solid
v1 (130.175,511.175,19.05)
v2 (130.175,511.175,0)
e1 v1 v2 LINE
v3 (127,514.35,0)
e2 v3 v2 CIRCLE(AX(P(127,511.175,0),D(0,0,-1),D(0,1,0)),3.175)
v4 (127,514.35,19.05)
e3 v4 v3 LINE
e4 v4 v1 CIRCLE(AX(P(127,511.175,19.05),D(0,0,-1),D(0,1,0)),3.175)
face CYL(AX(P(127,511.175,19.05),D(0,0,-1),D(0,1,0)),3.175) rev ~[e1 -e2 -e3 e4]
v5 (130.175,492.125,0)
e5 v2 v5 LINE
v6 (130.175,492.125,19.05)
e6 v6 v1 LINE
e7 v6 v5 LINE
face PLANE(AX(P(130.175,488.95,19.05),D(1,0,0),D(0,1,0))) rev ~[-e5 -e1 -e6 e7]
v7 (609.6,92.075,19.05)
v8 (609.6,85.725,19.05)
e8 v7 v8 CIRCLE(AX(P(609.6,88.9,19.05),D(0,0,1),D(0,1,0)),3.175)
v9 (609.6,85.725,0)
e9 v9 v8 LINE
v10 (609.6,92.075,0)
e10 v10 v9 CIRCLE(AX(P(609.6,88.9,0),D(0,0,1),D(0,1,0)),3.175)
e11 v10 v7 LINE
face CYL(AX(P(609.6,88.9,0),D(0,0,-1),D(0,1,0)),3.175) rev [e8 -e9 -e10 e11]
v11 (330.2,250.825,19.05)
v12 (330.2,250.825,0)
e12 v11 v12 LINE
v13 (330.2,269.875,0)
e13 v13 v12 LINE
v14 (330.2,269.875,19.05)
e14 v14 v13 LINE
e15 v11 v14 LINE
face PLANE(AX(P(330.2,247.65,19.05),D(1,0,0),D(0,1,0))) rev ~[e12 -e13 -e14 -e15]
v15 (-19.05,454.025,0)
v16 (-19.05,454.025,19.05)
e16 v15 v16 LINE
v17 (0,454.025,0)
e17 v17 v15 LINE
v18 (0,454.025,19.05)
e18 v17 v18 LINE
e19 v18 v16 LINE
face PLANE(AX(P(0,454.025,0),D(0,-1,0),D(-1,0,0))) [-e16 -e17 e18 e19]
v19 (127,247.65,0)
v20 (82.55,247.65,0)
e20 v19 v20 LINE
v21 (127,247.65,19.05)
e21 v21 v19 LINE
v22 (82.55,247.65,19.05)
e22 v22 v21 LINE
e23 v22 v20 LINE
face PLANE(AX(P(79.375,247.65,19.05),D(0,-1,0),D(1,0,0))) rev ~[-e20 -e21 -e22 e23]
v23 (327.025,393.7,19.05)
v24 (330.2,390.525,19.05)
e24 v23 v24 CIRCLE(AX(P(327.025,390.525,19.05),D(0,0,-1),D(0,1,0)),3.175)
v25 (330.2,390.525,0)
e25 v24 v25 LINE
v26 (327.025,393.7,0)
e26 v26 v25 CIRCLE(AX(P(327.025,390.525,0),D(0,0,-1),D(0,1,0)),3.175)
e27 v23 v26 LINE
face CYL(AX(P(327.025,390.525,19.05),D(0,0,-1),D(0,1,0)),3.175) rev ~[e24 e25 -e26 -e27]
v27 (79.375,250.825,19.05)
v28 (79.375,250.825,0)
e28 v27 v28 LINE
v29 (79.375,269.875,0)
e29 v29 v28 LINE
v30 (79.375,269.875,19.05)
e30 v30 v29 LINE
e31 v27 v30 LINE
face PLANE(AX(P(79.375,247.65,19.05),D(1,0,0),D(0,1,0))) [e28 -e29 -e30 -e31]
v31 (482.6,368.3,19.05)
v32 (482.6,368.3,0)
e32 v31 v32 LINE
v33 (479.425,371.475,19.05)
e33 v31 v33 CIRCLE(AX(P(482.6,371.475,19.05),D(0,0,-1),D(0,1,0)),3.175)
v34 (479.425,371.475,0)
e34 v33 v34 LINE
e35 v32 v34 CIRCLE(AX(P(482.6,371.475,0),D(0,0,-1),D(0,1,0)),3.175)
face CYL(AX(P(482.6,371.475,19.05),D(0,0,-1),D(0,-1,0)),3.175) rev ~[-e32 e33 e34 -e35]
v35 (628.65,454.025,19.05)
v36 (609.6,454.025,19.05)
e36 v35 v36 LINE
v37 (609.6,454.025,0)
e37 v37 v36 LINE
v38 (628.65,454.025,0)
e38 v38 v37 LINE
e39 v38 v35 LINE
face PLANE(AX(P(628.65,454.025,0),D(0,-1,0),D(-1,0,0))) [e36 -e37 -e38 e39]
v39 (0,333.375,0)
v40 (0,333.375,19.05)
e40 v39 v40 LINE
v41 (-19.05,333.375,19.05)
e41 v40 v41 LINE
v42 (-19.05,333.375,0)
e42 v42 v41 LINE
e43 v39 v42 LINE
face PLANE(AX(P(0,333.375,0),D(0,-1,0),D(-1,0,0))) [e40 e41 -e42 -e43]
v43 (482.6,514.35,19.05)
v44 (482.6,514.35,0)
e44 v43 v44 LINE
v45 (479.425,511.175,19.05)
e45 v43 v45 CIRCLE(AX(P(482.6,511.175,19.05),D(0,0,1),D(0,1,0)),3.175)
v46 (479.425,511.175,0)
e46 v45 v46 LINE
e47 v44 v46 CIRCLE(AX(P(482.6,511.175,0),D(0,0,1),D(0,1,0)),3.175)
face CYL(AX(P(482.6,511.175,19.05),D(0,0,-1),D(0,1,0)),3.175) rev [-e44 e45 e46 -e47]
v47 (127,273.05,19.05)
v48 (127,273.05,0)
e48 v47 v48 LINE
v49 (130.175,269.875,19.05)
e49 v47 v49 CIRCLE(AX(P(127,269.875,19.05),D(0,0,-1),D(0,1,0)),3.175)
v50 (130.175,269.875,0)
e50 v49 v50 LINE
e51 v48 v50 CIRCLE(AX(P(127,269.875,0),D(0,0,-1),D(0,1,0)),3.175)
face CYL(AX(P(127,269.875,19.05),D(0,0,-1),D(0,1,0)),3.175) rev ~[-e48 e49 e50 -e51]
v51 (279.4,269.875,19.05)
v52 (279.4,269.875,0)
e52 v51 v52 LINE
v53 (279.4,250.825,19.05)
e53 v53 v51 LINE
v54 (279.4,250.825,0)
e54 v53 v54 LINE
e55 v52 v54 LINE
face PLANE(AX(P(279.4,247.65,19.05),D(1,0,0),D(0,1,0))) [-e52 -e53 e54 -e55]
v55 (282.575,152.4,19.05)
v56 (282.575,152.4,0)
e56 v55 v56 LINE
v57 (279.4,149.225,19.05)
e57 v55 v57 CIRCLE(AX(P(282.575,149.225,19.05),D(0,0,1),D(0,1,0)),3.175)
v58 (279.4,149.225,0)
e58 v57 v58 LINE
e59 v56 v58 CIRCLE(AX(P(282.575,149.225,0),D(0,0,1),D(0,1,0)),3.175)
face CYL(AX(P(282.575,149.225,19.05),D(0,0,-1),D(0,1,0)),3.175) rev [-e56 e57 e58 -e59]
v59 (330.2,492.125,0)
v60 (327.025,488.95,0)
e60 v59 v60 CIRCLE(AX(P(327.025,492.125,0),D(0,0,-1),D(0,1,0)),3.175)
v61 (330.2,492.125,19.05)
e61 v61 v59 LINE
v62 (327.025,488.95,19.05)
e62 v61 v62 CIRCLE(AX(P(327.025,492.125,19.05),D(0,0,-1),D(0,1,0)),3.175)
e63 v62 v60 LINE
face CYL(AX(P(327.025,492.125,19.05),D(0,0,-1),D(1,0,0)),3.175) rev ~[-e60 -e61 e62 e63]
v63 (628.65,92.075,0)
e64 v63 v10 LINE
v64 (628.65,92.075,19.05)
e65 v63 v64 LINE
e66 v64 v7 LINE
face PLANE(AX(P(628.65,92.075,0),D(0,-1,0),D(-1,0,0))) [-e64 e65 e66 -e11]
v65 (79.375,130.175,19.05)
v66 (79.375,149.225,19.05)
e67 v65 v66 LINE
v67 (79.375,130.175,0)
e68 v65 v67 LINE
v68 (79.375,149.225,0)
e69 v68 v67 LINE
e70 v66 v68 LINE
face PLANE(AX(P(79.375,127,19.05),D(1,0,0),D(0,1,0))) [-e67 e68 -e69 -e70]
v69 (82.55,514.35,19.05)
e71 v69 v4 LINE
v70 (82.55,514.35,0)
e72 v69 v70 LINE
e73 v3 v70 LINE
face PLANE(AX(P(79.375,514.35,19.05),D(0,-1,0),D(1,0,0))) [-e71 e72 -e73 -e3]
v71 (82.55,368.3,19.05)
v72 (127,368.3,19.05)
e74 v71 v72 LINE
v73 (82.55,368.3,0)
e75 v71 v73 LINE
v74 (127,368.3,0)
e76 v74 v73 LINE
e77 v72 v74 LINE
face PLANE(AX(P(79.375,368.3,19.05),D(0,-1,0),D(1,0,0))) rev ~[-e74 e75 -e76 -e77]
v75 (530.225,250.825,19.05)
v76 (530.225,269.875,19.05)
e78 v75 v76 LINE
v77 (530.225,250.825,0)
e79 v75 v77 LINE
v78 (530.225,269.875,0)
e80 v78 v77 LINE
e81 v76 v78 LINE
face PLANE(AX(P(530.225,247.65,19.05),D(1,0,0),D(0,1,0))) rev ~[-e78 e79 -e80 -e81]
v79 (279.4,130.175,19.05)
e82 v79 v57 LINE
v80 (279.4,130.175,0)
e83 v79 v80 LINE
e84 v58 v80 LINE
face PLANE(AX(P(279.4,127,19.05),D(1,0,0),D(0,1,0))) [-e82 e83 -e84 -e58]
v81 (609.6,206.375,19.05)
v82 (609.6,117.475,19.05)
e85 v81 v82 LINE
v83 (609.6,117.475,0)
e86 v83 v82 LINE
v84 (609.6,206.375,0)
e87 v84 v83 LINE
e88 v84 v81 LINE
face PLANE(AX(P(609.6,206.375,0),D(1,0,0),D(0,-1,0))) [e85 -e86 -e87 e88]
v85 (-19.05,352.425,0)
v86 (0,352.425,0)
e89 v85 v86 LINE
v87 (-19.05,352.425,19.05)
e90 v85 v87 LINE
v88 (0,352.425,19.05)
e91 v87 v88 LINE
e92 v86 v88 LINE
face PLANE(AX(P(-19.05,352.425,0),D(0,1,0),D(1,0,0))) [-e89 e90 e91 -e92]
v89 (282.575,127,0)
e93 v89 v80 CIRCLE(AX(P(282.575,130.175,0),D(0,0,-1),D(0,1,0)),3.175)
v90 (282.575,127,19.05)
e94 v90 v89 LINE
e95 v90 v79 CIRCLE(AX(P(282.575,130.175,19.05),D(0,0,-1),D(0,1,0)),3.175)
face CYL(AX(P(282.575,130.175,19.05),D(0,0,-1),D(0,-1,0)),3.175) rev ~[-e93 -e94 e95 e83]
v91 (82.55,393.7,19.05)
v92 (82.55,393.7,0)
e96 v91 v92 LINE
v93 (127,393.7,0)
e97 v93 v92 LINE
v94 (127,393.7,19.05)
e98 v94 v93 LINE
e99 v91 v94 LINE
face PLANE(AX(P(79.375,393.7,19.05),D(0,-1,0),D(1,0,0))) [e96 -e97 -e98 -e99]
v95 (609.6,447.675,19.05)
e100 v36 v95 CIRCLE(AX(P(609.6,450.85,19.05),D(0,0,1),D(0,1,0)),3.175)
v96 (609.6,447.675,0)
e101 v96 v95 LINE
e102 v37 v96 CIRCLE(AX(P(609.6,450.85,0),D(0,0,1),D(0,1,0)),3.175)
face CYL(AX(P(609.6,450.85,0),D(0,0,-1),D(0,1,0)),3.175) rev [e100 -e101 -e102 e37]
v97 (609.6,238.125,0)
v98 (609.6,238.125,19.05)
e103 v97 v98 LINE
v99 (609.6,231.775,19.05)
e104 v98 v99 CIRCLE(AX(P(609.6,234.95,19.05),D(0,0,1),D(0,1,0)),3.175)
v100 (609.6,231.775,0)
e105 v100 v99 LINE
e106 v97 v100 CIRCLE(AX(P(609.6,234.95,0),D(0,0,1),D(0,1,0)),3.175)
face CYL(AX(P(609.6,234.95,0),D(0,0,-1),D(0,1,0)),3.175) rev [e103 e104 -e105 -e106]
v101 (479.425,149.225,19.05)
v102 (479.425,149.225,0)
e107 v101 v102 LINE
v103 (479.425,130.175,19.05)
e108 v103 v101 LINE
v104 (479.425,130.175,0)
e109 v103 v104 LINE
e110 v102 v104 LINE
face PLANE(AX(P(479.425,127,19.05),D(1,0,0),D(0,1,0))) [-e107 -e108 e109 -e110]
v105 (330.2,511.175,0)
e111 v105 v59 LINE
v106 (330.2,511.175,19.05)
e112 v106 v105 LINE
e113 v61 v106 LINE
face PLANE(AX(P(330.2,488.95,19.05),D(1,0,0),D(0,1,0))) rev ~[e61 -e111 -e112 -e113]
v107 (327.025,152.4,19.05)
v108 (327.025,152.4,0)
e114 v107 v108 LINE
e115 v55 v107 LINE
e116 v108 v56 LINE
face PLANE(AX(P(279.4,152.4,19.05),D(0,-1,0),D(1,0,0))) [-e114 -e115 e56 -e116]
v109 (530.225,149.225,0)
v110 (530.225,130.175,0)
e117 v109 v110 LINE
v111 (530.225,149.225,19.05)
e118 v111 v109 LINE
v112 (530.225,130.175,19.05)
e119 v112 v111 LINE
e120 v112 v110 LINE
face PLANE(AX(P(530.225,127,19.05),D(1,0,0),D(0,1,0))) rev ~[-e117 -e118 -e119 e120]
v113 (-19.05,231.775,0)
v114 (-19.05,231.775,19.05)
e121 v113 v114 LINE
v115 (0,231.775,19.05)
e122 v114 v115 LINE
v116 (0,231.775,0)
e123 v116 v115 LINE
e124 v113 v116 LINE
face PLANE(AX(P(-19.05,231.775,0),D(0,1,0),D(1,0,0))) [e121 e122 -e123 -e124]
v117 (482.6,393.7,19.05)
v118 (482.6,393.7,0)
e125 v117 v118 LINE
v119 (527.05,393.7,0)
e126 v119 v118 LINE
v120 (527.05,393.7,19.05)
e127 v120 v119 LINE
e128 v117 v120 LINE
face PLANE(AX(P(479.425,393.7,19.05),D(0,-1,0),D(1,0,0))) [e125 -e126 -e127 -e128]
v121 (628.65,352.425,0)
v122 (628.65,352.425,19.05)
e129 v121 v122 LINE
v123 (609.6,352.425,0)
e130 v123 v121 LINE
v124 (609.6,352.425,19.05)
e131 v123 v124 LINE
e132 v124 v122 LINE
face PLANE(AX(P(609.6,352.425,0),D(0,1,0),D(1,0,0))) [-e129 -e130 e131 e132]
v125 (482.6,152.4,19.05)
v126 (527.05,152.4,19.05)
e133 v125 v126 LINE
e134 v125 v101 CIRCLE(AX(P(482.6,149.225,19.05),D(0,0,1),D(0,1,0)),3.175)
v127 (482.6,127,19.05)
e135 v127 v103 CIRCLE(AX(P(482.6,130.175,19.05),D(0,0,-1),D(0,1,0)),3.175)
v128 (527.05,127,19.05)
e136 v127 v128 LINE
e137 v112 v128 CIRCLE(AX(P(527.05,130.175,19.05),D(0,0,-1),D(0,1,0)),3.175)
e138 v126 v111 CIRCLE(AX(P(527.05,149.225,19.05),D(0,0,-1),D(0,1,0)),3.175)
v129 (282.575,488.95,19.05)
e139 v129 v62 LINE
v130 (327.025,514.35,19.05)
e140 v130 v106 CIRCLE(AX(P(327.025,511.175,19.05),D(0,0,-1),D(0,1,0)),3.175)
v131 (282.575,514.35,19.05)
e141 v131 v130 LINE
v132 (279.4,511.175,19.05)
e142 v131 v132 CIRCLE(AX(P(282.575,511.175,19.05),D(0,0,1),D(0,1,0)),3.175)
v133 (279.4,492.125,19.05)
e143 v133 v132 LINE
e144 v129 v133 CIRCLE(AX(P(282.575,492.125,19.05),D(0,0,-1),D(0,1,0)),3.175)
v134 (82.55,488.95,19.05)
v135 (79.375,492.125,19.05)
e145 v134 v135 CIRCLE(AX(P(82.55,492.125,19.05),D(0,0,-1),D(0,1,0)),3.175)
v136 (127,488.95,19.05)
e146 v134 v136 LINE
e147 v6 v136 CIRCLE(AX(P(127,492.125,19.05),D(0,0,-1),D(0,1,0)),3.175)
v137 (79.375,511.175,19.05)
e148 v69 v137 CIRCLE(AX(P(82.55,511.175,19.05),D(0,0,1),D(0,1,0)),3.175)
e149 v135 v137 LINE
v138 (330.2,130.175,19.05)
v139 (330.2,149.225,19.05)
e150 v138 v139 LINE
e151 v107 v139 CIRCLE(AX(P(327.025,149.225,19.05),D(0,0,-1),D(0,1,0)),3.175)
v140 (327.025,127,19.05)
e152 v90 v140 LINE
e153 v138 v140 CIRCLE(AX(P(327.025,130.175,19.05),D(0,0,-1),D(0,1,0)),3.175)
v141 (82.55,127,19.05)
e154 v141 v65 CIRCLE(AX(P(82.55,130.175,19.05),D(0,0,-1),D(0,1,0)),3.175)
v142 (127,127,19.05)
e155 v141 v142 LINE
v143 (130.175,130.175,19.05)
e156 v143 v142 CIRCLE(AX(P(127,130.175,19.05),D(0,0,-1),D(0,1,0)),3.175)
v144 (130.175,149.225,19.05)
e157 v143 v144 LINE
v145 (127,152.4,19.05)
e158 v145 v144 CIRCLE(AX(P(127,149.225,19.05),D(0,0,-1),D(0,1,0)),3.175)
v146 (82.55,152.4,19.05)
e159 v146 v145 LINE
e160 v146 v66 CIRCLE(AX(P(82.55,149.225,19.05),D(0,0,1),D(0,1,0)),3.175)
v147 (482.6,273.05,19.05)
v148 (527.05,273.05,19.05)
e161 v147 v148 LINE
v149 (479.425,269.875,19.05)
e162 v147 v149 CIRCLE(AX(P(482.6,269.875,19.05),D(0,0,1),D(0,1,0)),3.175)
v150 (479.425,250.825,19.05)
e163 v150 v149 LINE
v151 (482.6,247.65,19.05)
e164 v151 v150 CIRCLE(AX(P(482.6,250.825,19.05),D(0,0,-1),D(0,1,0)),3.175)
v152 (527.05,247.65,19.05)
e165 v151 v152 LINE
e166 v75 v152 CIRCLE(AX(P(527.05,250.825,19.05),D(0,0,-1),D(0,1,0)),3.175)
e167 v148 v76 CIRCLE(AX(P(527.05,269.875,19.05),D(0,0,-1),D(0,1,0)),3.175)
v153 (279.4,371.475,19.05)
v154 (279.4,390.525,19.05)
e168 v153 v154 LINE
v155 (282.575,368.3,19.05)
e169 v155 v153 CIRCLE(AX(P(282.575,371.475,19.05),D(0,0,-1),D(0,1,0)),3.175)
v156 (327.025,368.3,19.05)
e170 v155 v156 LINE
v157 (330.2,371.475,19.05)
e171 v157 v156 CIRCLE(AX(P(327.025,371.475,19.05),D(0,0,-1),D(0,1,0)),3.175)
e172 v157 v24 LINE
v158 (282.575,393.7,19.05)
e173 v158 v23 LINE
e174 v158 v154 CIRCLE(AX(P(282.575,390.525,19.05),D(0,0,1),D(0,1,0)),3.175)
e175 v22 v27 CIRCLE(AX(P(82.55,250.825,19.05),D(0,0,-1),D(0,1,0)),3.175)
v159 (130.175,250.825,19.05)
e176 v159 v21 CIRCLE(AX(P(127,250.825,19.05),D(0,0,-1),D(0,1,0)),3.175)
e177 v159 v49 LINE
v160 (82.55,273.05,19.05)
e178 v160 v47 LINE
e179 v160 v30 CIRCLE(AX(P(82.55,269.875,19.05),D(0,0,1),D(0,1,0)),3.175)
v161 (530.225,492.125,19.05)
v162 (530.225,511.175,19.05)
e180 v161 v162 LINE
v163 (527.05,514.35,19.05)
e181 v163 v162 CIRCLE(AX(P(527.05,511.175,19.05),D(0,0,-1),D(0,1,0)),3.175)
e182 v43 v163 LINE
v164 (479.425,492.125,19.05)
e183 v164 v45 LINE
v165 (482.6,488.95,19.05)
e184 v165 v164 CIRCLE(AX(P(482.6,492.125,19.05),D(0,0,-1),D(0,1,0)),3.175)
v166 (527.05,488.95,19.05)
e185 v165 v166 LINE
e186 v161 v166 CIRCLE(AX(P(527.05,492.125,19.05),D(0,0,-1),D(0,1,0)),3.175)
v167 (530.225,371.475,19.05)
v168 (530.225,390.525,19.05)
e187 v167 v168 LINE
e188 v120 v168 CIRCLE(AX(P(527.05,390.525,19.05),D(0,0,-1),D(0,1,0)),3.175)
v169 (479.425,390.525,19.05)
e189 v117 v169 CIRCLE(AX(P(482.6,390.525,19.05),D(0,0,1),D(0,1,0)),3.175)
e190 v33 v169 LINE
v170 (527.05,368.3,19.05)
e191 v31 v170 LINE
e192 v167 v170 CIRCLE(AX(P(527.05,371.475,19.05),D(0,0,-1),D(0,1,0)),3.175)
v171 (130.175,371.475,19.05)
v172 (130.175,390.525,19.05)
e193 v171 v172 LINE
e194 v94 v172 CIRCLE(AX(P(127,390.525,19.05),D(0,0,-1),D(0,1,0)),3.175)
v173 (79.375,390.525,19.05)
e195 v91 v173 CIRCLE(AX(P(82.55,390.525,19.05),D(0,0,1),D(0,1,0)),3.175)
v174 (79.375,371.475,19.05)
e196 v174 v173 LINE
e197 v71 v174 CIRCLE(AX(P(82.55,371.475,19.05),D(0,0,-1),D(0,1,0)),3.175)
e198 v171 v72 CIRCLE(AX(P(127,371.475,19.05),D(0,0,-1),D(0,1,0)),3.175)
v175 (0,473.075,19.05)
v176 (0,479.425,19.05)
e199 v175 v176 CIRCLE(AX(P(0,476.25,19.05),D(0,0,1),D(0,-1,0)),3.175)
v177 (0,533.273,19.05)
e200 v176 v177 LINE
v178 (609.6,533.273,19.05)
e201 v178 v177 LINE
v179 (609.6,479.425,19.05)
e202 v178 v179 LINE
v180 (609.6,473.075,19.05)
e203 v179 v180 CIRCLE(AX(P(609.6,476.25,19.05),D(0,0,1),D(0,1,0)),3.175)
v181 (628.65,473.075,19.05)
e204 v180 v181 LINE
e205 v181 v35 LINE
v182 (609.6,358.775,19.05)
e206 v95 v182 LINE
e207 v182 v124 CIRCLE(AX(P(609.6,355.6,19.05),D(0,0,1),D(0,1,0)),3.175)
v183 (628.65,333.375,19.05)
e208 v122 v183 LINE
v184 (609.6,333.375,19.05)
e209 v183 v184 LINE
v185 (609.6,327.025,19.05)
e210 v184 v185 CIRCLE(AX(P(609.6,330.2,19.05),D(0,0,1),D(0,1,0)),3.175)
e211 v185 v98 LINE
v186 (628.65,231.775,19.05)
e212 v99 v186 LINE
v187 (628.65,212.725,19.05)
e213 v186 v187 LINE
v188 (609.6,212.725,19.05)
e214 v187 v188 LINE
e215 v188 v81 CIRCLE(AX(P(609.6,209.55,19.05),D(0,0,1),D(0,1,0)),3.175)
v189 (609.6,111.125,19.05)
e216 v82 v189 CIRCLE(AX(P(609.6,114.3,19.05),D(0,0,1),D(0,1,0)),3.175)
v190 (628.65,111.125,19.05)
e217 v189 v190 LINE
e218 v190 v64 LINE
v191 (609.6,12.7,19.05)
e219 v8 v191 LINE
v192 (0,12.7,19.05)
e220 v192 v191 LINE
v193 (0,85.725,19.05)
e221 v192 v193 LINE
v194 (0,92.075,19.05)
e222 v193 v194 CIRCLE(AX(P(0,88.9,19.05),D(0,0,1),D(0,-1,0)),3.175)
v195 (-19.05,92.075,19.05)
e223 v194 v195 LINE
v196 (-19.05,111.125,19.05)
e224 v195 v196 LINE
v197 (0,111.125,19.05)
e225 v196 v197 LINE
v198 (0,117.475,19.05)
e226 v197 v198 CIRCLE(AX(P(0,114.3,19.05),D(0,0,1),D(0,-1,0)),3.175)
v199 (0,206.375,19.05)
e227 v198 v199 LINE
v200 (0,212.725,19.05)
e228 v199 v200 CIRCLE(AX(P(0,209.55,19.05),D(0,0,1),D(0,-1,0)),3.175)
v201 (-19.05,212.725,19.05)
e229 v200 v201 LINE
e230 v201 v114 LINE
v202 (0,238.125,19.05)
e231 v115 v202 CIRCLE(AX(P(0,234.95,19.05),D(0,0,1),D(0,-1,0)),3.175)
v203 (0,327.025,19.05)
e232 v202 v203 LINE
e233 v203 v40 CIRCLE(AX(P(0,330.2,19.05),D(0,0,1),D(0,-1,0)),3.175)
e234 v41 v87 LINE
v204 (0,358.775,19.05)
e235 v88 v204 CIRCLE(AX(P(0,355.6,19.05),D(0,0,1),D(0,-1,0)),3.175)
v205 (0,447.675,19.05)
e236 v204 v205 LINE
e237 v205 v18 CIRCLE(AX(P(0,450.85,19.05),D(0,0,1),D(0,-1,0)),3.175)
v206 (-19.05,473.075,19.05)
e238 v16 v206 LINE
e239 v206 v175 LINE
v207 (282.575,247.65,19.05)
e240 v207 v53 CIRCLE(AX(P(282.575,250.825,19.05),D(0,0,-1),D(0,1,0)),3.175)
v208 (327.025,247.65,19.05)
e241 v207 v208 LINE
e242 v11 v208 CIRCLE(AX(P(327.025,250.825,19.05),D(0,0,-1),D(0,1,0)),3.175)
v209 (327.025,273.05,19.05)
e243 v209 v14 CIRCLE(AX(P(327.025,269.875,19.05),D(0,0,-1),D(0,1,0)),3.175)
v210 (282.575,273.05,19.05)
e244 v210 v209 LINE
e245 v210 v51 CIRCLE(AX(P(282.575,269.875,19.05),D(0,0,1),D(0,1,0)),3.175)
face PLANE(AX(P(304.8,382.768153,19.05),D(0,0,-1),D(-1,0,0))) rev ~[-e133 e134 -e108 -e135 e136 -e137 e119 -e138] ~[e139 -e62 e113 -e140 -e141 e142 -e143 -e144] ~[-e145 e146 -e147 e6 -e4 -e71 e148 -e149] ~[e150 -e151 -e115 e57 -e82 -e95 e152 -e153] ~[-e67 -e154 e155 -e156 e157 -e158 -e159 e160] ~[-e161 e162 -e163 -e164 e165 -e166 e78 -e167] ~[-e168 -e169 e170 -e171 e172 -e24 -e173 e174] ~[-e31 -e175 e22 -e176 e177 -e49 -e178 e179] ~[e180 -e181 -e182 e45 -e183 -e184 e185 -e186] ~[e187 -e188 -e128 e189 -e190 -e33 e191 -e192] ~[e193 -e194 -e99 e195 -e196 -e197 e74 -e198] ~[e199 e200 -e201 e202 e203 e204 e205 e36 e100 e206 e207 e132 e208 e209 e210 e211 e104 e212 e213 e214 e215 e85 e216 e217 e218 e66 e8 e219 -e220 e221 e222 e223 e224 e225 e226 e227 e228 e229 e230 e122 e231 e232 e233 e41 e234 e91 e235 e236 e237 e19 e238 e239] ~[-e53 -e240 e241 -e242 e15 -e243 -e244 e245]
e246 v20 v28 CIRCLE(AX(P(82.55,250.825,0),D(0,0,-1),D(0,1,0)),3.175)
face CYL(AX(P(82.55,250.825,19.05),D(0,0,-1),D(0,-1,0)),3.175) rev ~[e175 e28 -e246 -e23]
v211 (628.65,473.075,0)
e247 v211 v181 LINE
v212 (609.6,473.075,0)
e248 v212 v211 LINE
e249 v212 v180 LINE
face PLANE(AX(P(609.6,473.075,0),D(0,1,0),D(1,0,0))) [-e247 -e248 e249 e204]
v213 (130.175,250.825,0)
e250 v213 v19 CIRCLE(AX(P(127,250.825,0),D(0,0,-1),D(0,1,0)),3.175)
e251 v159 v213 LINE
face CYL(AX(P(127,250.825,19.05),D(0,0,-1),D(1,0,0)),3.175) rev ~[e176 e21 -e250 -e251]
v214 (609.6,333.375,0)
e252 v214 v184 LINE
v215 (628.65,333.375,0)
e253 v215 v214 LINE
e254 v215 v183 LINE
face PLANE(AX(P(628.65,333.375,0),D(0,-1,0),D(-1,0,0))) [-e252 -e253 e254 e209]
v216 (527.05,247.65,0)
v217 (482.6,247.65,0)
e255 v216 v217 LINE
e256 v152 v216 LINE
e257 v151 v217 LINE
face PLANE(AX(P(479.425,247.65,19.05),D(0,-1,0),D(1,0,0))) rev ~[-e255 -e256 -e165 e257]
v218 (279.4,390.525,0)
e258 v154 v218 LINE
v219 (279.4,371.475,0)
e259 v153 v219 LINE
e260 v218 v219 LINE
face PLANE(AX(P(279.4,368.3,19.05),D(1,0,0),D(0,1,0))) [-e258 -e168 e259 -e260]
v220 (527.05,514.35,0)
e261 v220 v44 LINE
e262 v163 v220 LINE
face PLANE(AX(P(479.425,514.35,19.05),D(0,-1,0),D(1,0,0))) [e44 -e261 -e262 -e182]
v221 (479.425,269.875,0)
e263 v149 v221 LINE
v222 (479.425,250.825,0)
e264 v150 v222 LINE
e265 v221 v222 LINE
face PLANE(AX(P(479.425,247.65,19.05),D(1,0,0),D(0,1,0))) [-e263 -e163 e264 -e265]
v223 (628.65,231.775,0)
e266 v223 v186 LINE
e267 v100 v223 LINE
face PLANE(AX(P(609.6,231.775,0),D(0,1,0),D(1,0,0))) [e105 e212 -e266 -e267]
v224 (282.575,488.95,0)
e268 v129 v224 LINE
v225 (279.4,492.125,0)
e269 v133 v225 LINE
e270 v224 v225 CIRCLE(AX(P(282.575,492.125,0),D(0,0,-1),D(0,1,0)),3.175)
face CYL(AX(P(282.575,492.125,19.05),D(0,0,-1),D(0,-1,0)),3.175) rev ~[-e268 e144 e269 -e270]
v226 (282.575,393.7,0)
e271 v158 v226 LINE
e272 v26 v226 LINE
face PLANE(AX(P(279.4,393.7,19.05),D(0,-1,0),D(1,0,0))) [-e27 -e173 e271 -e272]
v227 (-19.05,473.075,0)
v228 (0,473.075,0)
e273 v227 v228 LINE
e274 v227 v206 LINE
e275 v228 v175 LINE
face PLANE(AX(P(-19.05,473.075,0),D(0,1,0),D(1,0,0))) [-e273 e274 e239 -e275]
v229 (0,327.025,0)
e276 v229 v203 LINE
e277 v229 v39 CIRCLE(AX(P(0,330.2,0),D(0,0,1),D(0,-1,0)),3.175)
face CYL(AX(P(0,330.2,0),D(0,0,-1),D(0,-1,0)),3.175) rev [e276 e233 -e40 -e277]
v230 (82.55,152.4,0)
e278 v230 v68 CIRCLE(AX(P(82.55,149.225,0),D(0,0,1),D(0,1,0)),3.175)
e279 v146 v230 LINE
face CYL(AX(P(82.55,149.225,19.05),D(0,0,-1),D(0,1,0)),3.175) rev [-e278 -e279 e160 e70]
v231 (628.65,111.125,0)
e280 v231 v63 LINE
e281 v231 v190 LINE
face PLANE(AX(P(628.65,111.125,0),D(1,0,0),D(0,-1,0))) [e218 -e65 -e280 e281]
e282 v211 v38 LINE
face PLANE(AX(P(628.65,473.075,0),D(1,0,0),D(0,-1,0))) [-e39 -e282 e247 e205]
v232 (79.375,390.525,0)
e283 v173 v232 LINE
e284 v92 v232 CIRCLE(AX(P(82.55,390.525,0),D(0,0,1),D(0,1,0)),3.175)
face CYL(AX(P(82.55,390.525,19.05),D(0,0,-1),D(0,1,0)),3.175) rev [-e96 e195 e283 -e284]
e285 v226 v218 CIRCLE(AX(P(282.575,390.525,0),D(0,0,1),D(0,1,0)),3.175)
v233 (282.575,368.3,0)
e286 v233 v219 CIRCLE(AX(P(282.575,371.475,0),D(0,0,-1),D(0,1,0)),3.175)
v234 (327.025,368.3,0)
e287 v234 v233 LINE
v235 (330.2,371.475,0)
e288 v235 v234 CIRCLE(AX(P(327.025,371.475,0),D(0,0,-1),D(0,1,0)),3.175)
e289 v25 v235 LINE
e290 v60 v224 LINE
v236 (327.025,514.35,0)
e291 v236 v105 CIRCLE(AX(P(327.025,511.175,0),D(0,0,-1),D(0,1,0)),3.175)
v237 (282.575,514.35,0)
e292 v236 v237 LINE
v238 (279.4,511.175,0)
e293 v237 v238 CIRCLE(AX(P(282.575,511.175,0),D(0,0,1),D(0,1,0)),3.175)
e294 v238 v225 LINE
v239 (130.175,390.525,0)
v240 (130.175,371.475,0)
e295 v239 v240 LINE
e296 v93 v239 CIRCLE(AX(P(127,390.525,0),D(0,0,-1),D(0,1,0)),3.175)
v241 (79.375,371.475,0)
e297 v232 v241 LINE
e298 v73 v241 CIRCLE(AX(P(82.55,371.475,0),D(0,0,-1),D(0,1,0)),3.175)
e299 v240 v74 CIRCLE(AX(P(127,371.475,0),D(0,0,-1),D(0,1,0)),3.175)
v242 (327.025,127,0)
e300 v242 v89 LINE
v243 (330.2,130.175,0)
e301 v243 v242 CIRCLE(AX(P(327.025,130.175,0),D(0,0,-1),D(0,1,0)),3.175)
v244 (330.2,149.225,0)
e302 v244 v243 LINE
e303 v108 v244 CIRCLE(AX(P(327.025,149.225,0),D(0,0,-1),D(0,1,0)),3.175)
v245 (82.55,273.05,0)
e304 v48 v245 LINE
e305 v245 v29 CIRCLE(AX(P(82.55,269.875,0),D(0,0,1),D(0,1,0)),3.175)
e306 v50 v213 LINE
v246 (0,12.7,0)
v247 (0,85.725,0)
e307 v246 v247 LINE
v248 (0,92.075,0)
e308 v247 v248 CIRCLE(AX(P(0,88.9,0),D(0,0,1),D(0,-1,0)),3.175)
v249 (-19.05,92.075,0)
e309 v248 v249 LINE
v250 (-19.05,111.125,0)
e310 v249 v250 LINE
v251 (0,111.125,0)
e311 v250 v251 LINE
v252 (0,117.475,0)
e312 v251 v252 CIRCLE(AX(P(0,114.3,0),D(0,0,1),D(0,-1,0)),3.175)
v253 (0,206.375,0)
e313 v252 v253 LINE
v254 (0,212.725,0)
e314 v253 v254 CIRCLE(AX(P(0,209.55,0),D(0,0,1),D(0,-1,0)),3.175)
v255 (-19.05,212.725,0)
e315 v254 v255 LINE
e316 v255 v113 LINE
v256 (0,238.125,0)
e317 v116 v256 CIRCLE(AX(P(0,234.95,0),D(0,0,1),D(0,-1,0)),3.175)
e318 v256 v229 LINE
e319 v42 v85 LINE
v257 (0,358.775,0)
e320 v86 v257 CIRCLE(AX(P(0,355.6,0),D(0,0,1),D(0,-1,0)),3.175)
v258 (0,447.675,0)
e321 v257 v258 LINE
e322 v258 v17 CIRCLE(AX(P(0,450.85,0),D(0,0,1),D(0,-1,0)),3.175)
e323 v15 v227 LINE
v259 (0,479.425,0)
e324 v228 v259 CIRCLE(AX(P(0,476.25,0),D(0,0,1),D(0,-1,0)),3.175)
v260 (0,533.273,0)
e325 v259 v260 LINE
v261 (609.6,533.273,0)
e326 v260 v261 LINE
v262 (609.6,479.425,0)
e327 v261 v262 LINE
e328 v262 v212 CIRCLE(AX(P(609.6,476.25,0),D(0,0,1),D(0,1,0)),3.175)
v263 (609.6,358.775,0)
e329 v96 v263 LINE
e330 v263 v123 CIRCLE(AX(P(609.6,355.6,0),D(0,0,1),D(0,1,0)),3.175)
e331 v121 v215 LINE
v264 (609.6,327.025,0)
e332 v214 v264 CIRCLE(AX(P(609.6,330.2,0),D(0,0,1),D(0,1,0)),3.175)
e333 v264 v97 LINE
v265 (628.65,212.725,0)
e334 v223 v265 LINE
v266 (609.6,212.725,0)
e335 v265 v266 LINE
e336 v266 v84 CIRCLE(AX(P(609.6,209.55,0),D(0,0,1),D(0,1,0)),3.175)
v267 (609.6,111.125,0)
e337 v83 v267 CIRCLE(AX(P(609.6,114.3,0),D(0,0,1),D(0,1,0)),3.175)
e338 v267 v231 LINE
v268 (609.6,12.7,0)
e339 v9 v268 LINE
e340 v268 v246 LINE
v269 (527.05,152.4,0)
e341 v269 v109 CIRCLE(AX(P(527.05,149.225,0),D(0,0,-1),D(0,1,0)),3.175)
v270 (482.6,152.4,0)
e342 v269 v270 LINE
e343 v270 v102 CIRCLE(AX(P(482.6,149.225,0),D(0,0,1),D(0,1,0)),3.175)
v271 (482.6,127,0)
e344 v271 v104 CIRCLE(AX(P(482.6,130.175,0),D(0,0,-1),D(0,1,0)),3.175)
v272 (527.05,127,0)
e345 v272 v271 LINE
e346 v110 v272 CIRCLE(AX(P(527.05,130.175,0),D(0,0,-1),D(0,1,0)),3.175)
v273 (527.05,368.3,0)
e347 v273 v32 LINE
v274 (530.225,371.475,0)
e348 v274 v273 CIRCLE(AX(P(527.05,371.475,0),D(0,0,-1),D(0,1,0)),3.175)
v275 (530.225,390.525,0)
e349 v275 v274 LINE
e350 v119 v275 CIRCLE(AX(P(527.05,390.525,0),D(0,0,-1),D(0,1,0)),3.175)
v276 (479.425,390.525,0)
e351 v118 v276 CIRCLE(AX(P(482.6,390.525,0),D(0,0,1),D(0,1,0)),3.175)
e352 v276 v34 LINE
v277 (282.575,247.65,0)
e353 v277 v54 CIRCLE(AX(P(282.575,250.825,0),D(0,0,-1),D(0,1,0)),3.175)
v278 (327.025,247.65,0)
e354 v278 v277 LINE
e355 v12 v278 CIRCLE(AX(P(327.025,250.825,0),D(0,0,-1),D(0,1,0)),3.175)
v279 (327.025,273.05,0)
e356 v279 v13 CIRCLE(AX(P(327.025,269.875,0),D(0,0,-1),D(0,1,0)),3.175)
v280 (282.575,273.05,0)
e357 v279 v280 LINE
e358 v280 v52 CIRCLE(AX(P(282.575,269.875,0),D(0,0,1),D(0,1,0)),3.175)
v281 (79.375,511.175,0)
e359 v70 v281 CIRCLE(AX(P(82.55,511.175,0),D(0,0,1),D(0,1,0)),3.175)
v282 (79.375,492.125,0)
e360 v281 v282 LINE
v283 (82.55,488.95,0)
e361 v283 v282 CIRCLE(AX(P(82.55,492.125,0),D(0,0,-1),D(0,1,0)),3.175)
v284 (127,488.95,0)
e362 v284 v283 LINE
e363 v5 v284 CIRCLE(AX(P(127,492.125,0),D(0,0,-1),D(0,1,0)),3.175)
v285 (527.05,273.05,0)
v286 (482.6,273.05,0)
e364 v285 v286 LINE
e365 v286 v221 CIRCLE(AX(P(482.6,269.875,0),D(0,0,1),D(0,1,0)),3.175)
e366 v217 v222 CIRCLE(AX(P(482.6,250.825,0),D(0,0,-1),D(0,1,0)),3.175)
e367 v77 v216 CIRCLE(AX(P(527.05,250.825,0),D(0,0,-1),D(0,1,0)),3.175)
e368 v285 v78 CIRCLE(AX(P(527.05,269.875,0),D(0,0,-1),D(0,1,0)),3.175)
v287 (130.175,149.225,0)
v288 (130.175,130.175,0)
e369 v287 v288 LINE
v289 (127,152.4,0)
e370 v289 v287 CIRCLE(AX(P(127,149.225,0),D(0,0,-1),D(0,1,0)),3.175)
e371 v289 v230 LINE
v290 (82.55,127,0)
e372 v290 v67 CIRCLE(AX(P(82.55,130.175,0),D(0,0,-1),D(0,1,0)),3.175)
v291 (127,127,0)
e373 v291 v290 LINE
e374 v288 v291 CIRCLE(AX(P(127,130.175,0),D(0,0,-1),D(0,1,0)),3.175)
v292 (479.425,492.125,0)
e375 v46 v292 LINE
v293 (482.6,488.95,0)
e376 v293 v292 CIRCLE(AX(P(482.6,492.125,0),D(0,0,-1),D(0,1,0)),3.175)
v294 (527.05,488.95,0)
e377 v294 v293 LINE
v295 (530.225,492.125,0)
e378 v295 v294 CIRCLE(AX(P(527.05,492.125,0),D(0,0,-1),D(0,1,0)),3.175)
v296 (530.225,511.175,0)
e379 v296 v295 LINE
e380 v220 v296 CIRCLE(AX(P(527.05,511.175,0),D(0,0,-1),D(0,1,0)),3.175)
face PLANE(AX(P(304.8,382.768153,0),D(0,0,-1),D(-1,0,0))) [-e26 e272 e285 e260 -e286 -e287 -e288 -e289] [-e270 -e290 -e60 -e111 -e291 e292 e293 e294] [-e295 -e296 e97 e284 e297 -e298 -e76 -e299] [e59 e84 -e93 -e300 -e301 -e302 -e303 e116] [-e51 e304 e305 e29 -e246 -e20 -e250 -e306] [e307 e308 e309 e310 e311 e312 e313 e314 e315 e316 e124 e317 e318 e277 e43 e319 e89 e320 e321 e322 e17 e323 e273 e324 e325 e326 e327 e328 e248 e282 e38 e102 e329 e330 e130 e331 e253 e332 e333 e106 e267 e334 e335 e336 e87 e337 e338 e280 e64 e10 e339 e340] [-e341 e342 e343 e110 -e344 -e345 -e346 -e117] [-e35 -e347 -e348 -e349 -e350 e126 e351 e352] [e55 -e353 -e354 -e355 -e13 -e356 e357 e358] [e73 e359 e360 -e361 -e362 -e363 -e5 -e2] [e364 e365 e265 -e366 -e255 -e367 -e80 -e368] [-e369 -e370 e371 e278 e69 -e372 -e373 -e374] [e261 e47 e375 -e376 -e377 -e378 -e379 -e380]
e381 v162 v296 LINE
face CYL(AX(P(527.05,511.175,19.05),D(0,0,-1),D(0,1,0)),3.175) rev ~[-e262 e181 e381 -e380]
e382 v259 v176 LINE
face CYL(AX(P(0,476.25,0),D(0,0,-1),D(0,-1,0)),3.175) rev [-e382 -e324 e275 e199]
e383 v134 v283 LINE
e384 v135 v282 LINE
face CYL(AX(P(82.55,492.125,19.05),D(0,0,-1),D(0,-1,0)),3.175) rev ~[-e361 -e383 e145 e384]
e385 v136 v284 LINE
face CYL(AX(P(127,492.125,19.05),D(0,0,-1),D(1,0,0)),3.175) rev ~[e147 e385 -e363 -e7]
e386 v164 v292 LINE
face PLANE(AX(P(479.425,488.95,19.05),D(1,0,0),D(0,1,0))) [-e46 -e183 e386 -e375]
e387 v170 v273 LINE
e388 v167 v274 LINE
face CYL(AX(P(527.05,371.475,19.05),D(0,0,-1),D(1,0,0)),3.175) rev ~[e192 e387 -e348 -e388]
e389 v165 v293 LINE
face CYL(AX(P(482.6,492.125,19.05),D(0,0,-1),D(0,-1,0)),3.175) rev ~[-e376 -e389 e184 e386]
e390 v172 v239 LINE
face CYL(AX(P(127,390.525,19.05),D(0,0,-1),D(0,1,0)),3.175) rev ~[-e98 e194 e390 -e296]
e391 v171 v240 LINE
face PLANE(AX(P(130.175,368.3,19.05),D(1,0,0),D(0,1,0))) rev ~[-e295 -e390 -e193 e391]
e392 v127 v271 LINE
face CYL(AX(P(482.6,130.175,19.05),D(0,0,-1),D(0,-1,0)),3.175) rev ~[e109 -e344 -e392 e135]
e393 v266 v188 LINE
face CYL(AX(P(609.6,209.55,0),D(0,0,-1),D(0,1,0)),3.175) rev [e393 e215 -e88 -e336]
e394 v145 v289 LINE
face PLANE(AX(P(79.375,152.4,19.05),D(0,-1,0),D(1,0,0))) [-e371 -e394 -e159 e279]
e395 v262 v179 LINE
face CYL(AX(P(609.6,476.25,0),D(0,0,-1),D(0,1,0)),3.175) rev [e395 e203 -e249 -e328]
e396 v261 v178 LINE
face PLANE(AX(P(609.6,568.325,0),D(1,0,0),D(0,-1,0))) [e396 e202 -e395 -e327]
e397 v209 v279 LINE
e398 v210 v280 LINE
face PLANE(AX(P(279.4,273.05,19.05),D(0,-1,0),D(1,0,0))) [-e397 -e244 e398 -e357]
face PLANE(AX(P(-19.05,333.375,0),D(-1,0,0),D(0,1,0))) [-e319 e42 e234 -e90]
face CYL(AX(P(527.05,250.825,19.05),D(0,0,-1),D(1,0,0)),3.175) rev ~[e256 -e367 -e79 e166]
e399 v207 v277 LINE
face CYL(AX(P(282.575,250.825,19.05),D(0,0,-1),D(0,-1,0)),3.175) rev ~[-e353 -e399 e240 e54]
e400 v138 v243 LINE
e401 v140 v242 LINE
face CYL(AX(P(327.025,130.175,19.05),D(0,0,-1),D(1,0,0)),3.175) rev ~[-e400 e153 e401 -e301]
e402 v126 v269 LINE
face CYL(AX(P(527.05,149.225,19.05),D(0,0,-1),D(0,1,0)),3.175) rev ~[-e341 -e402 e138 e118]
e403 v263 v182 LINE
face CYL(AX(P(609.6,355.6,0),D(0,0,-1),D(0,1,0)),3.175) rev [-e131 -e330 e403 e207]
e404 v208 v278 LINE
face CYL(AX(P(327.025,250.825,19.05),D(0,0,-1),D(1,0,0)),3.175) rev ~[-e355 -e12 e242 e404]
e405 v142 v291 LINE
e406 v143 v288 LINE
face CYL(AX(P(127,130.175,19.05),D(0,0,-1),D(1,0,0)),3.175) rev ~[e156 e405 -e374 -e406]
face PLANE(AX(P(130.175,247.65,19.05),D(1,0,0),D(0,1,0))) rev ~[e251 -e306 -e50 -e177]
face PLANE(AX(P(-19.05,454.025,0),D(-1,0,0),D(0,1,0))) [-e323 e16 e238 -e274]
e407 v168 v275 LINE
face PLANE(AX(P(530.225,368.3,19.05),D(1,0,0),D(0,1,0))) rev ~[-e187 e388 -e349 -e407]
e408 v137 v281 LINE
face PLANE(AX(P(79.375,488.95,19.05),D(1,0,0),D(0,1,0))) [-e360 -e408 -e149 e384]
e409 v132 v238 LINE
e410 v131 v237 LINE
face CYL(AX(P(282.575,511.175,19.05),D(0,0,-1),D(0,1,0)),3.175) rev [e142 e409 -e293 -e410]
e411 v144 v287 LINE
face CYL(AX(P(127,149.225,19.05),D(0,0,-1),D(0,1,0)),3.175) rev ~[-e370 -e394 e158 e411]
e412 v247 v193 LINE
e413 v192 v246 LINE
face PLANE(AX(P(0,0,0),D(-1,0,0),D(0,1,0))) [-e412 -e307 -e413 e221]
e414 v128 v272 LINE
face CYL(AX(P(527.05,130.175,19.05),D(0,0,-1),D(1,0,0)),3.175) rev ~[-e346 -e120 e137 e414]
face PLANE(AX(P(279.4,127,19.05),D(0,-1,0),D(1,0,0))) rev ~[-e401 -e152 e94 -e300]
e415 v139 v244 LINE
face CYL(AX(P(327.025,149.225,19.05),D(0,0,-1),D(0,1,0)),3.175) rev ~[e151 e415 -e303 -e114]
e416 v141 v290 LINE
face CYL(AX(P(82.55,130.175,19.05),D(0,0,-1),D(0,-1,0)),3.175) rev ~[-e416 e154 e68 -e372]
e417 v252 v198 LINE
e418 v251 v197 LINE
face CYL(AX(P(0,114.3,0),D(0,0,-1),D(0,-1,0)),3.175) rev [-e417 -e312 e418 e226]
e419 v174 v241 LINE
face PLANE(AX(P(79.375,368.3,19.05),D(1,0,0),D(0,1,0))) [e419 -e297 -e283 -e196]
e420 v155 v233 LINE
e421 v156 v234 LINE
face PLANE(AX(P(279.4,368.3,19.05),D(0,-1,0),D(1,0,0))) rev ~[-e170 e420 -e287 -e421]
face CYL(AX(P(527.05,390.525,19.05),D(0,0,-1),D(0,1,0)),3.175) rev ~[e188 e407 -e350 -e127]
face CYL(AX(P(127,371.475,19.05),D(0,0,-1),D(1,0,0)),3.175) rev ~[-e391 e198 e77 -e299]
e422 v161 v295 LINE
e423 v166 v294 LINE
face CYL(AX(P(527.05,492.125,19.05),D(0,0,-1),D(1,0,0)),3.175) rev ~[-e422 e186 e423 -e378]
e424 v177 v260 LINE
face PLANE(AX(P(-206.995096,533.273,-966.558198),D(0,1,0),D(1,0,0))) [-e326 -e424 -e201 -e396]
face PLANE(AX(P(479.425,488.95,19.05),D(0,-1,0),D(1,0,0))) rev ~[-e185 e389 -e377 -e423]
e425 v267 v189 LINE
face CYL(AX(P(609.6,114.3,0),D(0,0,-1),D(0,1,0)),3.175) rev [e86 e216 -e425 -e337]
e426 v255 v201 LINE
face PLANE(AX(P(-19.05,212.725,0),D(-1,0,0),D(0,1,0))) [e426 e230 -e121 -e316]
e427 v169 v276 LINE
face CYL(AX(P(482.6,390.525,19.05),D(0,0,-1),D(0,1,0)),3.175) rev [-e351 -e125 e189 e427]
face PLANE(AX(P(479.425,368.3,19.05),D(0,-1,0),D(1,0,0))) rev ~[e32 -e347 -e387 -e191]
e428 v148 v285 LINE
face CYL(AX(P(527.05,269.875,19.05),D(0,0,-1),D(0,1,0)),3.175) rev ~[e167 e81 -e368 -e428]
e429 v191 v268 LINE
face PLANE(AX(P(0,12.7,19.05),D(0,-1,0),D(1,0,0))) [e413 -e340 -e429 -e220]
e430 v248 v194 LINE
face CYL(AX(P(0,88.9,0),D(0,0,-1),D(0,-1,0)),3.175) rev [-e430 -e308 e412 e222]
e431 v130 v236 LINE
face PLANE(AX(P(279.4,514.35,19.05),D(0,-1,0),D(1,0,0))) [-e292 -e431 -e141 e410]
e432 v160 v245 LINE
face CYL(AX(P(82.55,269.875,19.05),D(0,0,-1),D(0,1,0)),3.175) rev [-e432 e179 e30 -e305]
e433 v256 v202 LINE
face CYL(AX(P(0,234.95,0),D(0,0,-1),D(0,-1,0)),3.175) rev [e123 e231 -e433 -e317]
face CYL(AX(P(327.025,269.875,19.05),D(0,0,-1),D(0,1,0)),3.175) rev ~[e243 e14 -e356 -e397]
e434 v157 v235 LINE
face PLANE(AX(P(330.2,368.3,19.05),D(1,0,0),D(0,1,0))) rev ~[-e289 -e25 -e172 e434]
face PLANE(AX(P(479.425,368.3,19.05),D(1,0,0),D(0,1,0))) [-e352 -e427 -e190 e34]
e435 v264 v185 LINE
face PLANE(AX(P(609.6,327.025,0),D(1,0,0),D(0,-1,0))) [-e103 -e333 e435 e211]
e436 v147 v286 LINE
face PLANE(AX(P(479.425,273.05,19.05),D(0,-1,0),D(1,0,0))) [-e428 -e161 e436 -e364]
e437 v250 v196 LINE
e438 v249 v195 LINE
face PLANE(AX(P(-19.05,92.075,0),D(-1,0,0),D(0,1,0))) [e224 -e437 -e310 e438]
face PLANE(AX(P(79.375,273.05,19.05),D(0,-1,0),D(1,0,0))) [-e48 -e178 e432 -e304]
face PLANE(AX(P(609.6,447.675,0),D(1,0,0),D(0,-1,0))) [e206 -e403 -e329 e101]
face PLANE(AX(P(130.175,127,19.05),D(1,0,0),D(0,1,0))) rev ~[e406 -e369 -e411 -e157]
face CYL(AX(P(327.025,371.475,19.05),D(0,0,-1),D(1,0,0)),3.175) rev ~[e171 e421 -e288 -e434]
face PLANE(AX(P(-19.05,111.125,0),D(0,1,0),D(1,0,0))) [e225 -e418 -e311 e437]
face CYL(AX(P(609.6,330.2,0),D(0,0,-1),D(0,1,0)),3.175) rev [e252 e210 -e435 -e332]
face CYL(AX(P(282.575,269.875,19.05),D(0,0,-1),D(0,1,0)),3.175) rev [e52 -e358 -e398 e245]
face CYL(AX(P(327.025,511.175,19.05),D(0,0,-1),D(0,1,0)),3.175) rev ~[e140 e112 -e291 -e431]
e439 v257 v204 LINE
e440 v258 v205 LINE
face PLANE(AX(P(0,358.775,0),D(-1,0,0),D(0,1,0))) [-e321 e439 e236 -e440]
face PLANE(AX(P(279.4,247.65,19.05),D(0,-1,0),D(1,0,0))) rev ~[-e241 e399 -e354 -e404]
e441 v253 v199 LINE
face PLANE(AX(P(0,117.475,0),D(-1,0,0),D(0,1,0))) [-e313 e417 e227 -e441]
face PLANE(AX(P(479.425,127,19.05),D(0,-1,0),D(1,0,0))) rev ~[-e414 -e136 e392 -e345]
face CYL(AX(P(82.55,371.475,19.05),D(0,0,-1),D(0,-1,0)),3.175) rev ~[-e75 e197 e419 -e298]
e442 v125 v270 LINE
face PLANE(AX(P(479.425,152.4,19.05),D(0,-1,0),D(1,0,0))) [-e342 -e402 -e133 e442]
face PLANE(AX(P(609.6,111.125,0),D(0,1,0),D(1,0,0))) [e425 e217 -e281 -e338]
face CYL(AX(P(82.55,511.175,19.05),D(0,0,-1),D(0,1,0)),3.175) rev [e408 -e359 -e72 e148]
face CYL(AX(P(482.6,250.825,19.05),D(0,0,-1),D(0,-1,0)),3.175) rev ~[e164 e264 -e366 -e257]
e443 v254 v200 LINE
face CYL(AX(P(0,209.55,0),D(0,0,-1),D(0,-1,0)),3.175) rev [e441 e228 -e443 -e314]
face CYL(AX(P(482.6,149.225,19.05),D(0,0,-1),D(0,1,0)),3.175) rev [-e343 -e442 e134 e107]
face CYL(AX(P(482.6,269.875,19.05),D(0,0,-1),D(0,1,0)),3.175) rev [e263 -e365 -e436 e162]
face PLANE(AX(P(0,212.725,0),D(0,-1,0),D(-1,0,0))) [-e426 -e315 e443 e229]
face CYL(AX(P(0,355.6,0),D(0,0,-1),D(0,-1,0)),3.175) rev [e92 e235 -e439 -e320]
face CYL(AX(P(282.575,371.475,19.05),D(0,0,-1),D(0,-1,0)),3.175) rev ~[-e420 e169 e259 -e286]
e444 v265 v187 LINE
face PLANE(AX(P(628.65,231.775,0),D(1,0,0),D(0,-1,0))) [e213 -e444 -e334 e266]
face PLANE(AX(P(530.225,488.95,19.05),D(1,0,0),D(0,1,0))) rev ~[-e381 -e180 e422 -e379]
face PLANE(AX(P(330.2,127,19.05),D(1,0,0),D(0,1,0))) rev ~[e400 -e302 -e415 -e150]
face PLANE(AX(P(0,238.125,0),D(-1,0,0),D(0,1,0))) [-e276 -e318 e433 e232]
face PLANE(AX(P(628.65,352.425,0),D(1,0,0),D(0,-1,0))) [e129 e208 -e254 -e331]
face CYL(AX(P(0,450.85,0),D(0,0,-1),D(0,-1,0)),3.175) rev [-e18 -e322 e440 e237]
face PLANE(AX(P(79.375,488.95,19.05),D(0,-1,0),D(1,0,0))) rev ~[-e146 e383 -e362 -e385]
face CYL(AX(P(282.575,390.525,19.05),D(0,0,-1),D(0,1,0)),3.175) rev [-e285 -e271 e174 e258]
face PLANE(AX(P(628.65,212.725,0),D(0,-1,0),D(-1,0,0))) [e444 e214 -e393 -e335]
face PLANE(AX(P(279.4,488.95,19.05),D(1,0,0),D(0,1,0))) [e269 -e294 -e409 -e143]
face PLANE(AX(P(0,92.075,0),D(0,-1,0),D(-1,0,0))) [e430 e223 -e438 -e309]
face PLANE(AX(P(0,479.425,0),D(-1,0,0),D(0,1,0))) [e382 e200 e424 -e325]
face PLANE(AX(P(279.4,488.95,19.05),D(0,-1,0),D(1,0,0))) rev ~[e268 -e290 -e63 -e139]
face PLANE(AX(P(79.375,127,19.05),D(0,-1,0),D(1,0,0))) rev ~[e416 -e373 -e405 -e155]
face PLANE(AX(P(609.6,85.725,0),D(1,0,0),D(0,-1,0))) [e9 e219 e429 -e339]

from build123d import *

# Parameters (mm, degrees)
BOSS_EXTRUDE1_DEPTH     = 19.05
SKETCH3_W               = 50.8
SKETCH3_H               = 25.4
CUT_EXTRUDE2_DEPTH      = 985.608197724
SKETCH4_W               = 609.6
SKETCH4_H               = 12.7
CUT_EXTRUDE3_DEPTH      = 985.608197724
CUT_EXTRUDE4_DEPTH      = 985.608197724
CUT_EXTRUDE4_DEPTH_BACK = 985.608197724
SKETCH5_W               = 533.4
SKETCH5_H               = 224.282
CUT_EXTRUDE5_DEPTH      = 985.608197724
CUT_EXTRUDE5_DEPTH_BACK = 985.608197724
SKETCH6_W               = 1348.924846149
SKETCH6_H               = 423.84329992
FILLET1_R               = 3.175


with BuildPart() as part:
    # Sketch1 → Boss-Extrude1 (new body)
    with BuildSketch(Plane.XY):
        with BuildLine():
            Line((0, 0), (0, 85.725))
            ThreePointArc((0, 85.725), (3.175, 88.9), (0, 92.075))
            Line((0, 92.075), (-19.05, 92.075))
            Line((-19.05, 92.075), (-19.05, 111.125))
            Line((-19.05, 111.125), (0, 111.125))
            ThreePointArc((0, 111.125), (3.175, 114.3), (0, 117.475))
            Line((0, 117.475), (0, 206.375))
            ThreePointArc((0, 206.375), (3.175, 209.55), (0, 212.725))
            Line((0, 212.725), (-19.05, 212.725))
            Line((-19.05, 212.725), (-19.05, 231.775))
            Line((-19.05, 231.775), (0, 231.775))
            ThreePointArc((0, 231.775), (3.175, 234.95), (0, 238.125))
            Line((0, 238.125), (0, 327.025))
            ThreePointArc((0, 327.025), (3.175, 330.2), (0, 333.375))
            Line((0, 333.375), (-19.05, 333.375))
            Line((-19.05, 333.375), (-19.05, 352.425))
            Line((-19.05, 352.425), (0, 352.425))
            ThreePointArc((0, 352.425), (3.175, 355.6), (0, 358.775))
            Line((0, 358.775), (0, 447.675))
            ThreePointArc((0, 447.675), (3.175, 450.85), (0, 454.025))
            Line((0, 454.025), (-19.05, 454.025))
            Line((-19.05, 454.025), (-19.05, 473.075))
            Line((-19.05, 473.075), (0, 473.075))
            ThreePointArc((0, 473.075), (3.175, 476.25), (0, 479.425))
            Line((0, 479.425), (0, 568.325))
            ThreePointArc((0, 568.325), (3.175, 571.5), (0, 574.675))
            Line((0, 574.675), (-19.05, 574.675))
            Line((-19.05, 574.675), (-19.05, 593.725))
            Line((-19.05, 593.725), (0, 593.725))
            ThreePointArc((0, 593.725), (3.175, 596.9), (0, 600.075))
            Line((0, 600.075), (0, 688.975))
            ThreePointArc((0, 688.975), (3.175, 692.15), (0, 695.325))
            Line((0, 695.325), (-19.05, 695.325))
            Line((-19.05, 695.325), (-19.05, 714.375))
            Line((-19.05, 714.375), (0, 714.375))
            ThreePointArc((0, 714.375), (3.175, 717.55), (0, 720.725))
            Line((0, 720.725), (0, 757.555))
            Line((0, 757.555), (609.6, 757.555))
            Line((609.6, 757.555), (609.6, 720.725))
            ThreePointArc((609.6, 720.725), (606.425, 717.55), (609.6, 714.375))
            Line((609.6, 714.375), (628.65, 714.375))
            Line((628.65, 714.375), (628.65, 695.325))
            Line((628.65, 695.325), (609.6, 695.325))
            ThreePointArc((609.6, 695.325), (606.425, 692.15), (609.6, 688.975))
            Line((609.6, 688.975), (609.6, 600.075))
            ThreePointArc((609.6, 600.075), (606.425, 596.9), (609.6, 593.725))
            Line((609.6, 593.725), (628.65, 593.725))
            Line((628.65, 593.725), (628.65, 574.675))
            Line((628.65, 574.675), (609.6, 574.675))
            ThreePointArc((609.6, 574.675), (606.425, 571.5), (609.6, 568.325))
            Line((609.6, 568.325), (609.6, 479.425))
            ThreePointArc((609.6, 479.425), (606.425, 476.25), (609.6, 473.075))
            Line((609.6, 473.075), (628.65, 473.075))
            Line((628.65, 473.075), (628.65, 454.025))
            Line((628.65, 454.025), (609.6, 454.025))
            ThreePointArc((609.6, 454.025), (606.425, 450.85), (609.6, 447.675))
            Line((609.6, 447.675), (609.6, 358.775))
            ThreePointArc((609.6, 358.775), (606.425, 355.6), (609.6, 352.425))
            Line((609.6, 352.425), (628.65, 352.425))
            Line((628.65, 352.425), (628.65, 333.375))
            Line((628.65, 333.375), (609.6, 333.375))
            ThreePointArc((609.6, 333.375), (606.425, 330.2), (609.6, 327.025))
            Line((609.6, 327.025), (609.6, 238.125))
            ThreePointArc((609.6, 238.125), (606.425, 234.95), (609.6, 231.775))
            Line((609.6, 231.775), (628.65, 231.775))
            Line((628.65, 231.775), (628.65, 212.725))
            Line((628.65, 212.725), (609.6, 212.725))
            ThreePointArc((609.6, 212.725), (606.425, 209.55), (609.6, 206.375))
            Line((609.6, 206.375), (609.6, 117.475))
            ThreePointArc((609.6, 117.475), (606.425, 114.3), (609.6, 111.125))
            Line((609.6, 111.125), (628.65, 111.125))
            Line((628.65, 111.125), (628.65, 92.075))
            Line((628.65, 92.075), (609.6, 92.075))
            ThreePointArc((609.6, 92.075), (606.425, 88.9), (609.6, 85.725))
            Line((609.6, 85.725), (609.6, 0))
            Line((609.6, 0), (0, 0))
        make_face()
    extrude(amount=BOSS_EXTRUDE1_DEPTH)

    # Sketch3 → Cut-Extrude2 (cut, through all)
    with BuildSketch(Plane.XY.offset(19.05)):
        with Locations((104.775, 501.65)):
            Rectangle(SKETCH3_W, SKETCH3_H)
        with Locations((104.775, 381)):
            Rectangle(SKETCH3_W, SKETCH3_H)
        with Locations((104.775, 260.35)):
            Rectangle(SKETCH3_W, SKETCH3_H)
        with Locations((104.775, 139.7)):
            Rectangle(SKETCH3_W, SKETCH3_H)
        with Locations((304.8, 139.7)):
            Rectangle(SKETCH3_W, SKETCH3_H)
        with Locations((304.8, 260.35)):
            Rectangle(SKETCH3_W, SKETCH3_H)
        with Locations((304.8, 381)):
            Rectangle(SKETCH3_W, SKETCH3_H)
        with Locations((304.8, 501.65)):
            Rectangle(SKETCH3_W, SKETCH3_H)
        with Locations((504.825, 501.65)):
            Rectangle(SKETCH3_W, SKETCH3_H)
        with Locations((504.825, 381)):
            Rectangle(SKETCH3_W, SKETCH3_H)
        with Locations((504.825, 260.35)):
            Rectangle(SKETCH3_W, SKETCH3_H)
        with Locations((504.825, 139.7)):
            Rectangle(SKETCH3_W, SKETCH3_H)
    extrude(amount=-CUT_EXTRUDE2_DEPTH, mode=Mode.SUBTRACT)

    # Sketch4 → Cut-Extrude3 (cut, through all)
    with BuildSketch(Plane.XY.offset(19.05)):
        with Locations((304.8, 6.35)):
            Rectangle(SKETCH4_W, SKETCH4_H)
    extrude(amount=-CUT_EXTRUDE3_DEPTH, mode=Mode.SUBTRACT)

    # Sketch5 → Cut-Extrude4 (cut, two sides: drawn at the far end of the back side and taken through both)
    with BuildSketch(Plane.XY.offset(19.05).offset(-CUT_EXTRUDE4_DEPTH_BACK)):
        with Locations((304.8, 645.414)):
            Rectangle(SKETCH5_W, SKETCH5_H)
    extrude(amount=CUT_EXTRUDE4_DEPTH + CUT_EXTRUDE4_DEPTH_BACK, mode=Mode.SUBTRACT)

    # Sketch6 → Cut-Extrude5 (cut, two sides: drawn at the far end of the back side and taken through both)
    with BuildSketch(Plane.XY.offset(19.05).offset(-CUT_EXTRUDE5_DEPTH_BACK)):
        with Locations((467.467327316, 745.19464996)):
            Rectangle(SKETCH6_W, SKETCH6_H)
    extrude(amount=CUT_EXTRUDE5_DEPTH + CUT_EXTRUDE5_DEPTH_BACK, mode=Mode.SUBTRACT)

    # Fillet1
    fillet1_edges = [part.edges().sort_by_distance(p)[0] for p in [
        (530.225, 488.95, 9.525),
        (479.425, 488.95, 9.525),
        (479.425, 514.35, 9.525),
        (530.225, 514.35, 9.525),
        (330.2, 514.35, 9.525),
        (330.2, 488.95, 9.525),
        (279.4, 488.95, 9.525),
        (279.4, 514.35, 9.525),
        (330.2, 393.7, 9.525),
        (330.2, 368.3, 9.525),
        (279.4, 368.3, 9.525),
        (279.4, 393.7, 9.525),
        (330.2, 273.05, 9.525),
        (330.2, 247.65, 9.525),
        (279.4, 247.65, 9.525),
        (279.4, 273.05, 9.525),
        (330.2, 152.4, 9.525),
        (330.2, 127, 9.525),
        (279.4, 127, 9.525),
        (279.4, 152.4, 9.525),
        (130.175, 127, 9.525),
        (79.375, 127, 9.525),
        (79.375, 152.4, 9.525),
        (130.175, 152.4, 9.525),
        (130.175, 247.65, 9.525),
        (79.375, 247.65, 9.525),
        (79.375, 273.05, 9.525),
        (130.175, 273.05, 9.525),
        (130.175, 368.3, 9.525),
        (79.375, 368.3, 9.525),
        (79.375, 393.7, 9.525),
        (130.175, 393.7, 9.525),
        (530.225, 368.3, 9.525),
        (479.425, 368.3, 9.525),
        (479.425, 393.7, 9.525),
        (530.225, 393.7, 9.525),
        (530.225, 247.65, 9.525),
        (479.425, 247.65, 9.525),
        (479.425, 273.05, 9.525),
        (530.225, 273.05, 9.525),
        (530.225, 127, 9.525),
        (479.425, 127, 9.525),
        (479.425, 152.4, 9.525),
        (530.225, 152.4, 9.525),
        (130.175, 488.95, 9.525),
        (79.375, 488.95, 9.525),
        (79.375, 514.35, 9.525),
        (130.175, 514.35, 9.525),
    ]]
    fillet(fillet1_edges, radius=FILLET1_R)


solid = part.part
